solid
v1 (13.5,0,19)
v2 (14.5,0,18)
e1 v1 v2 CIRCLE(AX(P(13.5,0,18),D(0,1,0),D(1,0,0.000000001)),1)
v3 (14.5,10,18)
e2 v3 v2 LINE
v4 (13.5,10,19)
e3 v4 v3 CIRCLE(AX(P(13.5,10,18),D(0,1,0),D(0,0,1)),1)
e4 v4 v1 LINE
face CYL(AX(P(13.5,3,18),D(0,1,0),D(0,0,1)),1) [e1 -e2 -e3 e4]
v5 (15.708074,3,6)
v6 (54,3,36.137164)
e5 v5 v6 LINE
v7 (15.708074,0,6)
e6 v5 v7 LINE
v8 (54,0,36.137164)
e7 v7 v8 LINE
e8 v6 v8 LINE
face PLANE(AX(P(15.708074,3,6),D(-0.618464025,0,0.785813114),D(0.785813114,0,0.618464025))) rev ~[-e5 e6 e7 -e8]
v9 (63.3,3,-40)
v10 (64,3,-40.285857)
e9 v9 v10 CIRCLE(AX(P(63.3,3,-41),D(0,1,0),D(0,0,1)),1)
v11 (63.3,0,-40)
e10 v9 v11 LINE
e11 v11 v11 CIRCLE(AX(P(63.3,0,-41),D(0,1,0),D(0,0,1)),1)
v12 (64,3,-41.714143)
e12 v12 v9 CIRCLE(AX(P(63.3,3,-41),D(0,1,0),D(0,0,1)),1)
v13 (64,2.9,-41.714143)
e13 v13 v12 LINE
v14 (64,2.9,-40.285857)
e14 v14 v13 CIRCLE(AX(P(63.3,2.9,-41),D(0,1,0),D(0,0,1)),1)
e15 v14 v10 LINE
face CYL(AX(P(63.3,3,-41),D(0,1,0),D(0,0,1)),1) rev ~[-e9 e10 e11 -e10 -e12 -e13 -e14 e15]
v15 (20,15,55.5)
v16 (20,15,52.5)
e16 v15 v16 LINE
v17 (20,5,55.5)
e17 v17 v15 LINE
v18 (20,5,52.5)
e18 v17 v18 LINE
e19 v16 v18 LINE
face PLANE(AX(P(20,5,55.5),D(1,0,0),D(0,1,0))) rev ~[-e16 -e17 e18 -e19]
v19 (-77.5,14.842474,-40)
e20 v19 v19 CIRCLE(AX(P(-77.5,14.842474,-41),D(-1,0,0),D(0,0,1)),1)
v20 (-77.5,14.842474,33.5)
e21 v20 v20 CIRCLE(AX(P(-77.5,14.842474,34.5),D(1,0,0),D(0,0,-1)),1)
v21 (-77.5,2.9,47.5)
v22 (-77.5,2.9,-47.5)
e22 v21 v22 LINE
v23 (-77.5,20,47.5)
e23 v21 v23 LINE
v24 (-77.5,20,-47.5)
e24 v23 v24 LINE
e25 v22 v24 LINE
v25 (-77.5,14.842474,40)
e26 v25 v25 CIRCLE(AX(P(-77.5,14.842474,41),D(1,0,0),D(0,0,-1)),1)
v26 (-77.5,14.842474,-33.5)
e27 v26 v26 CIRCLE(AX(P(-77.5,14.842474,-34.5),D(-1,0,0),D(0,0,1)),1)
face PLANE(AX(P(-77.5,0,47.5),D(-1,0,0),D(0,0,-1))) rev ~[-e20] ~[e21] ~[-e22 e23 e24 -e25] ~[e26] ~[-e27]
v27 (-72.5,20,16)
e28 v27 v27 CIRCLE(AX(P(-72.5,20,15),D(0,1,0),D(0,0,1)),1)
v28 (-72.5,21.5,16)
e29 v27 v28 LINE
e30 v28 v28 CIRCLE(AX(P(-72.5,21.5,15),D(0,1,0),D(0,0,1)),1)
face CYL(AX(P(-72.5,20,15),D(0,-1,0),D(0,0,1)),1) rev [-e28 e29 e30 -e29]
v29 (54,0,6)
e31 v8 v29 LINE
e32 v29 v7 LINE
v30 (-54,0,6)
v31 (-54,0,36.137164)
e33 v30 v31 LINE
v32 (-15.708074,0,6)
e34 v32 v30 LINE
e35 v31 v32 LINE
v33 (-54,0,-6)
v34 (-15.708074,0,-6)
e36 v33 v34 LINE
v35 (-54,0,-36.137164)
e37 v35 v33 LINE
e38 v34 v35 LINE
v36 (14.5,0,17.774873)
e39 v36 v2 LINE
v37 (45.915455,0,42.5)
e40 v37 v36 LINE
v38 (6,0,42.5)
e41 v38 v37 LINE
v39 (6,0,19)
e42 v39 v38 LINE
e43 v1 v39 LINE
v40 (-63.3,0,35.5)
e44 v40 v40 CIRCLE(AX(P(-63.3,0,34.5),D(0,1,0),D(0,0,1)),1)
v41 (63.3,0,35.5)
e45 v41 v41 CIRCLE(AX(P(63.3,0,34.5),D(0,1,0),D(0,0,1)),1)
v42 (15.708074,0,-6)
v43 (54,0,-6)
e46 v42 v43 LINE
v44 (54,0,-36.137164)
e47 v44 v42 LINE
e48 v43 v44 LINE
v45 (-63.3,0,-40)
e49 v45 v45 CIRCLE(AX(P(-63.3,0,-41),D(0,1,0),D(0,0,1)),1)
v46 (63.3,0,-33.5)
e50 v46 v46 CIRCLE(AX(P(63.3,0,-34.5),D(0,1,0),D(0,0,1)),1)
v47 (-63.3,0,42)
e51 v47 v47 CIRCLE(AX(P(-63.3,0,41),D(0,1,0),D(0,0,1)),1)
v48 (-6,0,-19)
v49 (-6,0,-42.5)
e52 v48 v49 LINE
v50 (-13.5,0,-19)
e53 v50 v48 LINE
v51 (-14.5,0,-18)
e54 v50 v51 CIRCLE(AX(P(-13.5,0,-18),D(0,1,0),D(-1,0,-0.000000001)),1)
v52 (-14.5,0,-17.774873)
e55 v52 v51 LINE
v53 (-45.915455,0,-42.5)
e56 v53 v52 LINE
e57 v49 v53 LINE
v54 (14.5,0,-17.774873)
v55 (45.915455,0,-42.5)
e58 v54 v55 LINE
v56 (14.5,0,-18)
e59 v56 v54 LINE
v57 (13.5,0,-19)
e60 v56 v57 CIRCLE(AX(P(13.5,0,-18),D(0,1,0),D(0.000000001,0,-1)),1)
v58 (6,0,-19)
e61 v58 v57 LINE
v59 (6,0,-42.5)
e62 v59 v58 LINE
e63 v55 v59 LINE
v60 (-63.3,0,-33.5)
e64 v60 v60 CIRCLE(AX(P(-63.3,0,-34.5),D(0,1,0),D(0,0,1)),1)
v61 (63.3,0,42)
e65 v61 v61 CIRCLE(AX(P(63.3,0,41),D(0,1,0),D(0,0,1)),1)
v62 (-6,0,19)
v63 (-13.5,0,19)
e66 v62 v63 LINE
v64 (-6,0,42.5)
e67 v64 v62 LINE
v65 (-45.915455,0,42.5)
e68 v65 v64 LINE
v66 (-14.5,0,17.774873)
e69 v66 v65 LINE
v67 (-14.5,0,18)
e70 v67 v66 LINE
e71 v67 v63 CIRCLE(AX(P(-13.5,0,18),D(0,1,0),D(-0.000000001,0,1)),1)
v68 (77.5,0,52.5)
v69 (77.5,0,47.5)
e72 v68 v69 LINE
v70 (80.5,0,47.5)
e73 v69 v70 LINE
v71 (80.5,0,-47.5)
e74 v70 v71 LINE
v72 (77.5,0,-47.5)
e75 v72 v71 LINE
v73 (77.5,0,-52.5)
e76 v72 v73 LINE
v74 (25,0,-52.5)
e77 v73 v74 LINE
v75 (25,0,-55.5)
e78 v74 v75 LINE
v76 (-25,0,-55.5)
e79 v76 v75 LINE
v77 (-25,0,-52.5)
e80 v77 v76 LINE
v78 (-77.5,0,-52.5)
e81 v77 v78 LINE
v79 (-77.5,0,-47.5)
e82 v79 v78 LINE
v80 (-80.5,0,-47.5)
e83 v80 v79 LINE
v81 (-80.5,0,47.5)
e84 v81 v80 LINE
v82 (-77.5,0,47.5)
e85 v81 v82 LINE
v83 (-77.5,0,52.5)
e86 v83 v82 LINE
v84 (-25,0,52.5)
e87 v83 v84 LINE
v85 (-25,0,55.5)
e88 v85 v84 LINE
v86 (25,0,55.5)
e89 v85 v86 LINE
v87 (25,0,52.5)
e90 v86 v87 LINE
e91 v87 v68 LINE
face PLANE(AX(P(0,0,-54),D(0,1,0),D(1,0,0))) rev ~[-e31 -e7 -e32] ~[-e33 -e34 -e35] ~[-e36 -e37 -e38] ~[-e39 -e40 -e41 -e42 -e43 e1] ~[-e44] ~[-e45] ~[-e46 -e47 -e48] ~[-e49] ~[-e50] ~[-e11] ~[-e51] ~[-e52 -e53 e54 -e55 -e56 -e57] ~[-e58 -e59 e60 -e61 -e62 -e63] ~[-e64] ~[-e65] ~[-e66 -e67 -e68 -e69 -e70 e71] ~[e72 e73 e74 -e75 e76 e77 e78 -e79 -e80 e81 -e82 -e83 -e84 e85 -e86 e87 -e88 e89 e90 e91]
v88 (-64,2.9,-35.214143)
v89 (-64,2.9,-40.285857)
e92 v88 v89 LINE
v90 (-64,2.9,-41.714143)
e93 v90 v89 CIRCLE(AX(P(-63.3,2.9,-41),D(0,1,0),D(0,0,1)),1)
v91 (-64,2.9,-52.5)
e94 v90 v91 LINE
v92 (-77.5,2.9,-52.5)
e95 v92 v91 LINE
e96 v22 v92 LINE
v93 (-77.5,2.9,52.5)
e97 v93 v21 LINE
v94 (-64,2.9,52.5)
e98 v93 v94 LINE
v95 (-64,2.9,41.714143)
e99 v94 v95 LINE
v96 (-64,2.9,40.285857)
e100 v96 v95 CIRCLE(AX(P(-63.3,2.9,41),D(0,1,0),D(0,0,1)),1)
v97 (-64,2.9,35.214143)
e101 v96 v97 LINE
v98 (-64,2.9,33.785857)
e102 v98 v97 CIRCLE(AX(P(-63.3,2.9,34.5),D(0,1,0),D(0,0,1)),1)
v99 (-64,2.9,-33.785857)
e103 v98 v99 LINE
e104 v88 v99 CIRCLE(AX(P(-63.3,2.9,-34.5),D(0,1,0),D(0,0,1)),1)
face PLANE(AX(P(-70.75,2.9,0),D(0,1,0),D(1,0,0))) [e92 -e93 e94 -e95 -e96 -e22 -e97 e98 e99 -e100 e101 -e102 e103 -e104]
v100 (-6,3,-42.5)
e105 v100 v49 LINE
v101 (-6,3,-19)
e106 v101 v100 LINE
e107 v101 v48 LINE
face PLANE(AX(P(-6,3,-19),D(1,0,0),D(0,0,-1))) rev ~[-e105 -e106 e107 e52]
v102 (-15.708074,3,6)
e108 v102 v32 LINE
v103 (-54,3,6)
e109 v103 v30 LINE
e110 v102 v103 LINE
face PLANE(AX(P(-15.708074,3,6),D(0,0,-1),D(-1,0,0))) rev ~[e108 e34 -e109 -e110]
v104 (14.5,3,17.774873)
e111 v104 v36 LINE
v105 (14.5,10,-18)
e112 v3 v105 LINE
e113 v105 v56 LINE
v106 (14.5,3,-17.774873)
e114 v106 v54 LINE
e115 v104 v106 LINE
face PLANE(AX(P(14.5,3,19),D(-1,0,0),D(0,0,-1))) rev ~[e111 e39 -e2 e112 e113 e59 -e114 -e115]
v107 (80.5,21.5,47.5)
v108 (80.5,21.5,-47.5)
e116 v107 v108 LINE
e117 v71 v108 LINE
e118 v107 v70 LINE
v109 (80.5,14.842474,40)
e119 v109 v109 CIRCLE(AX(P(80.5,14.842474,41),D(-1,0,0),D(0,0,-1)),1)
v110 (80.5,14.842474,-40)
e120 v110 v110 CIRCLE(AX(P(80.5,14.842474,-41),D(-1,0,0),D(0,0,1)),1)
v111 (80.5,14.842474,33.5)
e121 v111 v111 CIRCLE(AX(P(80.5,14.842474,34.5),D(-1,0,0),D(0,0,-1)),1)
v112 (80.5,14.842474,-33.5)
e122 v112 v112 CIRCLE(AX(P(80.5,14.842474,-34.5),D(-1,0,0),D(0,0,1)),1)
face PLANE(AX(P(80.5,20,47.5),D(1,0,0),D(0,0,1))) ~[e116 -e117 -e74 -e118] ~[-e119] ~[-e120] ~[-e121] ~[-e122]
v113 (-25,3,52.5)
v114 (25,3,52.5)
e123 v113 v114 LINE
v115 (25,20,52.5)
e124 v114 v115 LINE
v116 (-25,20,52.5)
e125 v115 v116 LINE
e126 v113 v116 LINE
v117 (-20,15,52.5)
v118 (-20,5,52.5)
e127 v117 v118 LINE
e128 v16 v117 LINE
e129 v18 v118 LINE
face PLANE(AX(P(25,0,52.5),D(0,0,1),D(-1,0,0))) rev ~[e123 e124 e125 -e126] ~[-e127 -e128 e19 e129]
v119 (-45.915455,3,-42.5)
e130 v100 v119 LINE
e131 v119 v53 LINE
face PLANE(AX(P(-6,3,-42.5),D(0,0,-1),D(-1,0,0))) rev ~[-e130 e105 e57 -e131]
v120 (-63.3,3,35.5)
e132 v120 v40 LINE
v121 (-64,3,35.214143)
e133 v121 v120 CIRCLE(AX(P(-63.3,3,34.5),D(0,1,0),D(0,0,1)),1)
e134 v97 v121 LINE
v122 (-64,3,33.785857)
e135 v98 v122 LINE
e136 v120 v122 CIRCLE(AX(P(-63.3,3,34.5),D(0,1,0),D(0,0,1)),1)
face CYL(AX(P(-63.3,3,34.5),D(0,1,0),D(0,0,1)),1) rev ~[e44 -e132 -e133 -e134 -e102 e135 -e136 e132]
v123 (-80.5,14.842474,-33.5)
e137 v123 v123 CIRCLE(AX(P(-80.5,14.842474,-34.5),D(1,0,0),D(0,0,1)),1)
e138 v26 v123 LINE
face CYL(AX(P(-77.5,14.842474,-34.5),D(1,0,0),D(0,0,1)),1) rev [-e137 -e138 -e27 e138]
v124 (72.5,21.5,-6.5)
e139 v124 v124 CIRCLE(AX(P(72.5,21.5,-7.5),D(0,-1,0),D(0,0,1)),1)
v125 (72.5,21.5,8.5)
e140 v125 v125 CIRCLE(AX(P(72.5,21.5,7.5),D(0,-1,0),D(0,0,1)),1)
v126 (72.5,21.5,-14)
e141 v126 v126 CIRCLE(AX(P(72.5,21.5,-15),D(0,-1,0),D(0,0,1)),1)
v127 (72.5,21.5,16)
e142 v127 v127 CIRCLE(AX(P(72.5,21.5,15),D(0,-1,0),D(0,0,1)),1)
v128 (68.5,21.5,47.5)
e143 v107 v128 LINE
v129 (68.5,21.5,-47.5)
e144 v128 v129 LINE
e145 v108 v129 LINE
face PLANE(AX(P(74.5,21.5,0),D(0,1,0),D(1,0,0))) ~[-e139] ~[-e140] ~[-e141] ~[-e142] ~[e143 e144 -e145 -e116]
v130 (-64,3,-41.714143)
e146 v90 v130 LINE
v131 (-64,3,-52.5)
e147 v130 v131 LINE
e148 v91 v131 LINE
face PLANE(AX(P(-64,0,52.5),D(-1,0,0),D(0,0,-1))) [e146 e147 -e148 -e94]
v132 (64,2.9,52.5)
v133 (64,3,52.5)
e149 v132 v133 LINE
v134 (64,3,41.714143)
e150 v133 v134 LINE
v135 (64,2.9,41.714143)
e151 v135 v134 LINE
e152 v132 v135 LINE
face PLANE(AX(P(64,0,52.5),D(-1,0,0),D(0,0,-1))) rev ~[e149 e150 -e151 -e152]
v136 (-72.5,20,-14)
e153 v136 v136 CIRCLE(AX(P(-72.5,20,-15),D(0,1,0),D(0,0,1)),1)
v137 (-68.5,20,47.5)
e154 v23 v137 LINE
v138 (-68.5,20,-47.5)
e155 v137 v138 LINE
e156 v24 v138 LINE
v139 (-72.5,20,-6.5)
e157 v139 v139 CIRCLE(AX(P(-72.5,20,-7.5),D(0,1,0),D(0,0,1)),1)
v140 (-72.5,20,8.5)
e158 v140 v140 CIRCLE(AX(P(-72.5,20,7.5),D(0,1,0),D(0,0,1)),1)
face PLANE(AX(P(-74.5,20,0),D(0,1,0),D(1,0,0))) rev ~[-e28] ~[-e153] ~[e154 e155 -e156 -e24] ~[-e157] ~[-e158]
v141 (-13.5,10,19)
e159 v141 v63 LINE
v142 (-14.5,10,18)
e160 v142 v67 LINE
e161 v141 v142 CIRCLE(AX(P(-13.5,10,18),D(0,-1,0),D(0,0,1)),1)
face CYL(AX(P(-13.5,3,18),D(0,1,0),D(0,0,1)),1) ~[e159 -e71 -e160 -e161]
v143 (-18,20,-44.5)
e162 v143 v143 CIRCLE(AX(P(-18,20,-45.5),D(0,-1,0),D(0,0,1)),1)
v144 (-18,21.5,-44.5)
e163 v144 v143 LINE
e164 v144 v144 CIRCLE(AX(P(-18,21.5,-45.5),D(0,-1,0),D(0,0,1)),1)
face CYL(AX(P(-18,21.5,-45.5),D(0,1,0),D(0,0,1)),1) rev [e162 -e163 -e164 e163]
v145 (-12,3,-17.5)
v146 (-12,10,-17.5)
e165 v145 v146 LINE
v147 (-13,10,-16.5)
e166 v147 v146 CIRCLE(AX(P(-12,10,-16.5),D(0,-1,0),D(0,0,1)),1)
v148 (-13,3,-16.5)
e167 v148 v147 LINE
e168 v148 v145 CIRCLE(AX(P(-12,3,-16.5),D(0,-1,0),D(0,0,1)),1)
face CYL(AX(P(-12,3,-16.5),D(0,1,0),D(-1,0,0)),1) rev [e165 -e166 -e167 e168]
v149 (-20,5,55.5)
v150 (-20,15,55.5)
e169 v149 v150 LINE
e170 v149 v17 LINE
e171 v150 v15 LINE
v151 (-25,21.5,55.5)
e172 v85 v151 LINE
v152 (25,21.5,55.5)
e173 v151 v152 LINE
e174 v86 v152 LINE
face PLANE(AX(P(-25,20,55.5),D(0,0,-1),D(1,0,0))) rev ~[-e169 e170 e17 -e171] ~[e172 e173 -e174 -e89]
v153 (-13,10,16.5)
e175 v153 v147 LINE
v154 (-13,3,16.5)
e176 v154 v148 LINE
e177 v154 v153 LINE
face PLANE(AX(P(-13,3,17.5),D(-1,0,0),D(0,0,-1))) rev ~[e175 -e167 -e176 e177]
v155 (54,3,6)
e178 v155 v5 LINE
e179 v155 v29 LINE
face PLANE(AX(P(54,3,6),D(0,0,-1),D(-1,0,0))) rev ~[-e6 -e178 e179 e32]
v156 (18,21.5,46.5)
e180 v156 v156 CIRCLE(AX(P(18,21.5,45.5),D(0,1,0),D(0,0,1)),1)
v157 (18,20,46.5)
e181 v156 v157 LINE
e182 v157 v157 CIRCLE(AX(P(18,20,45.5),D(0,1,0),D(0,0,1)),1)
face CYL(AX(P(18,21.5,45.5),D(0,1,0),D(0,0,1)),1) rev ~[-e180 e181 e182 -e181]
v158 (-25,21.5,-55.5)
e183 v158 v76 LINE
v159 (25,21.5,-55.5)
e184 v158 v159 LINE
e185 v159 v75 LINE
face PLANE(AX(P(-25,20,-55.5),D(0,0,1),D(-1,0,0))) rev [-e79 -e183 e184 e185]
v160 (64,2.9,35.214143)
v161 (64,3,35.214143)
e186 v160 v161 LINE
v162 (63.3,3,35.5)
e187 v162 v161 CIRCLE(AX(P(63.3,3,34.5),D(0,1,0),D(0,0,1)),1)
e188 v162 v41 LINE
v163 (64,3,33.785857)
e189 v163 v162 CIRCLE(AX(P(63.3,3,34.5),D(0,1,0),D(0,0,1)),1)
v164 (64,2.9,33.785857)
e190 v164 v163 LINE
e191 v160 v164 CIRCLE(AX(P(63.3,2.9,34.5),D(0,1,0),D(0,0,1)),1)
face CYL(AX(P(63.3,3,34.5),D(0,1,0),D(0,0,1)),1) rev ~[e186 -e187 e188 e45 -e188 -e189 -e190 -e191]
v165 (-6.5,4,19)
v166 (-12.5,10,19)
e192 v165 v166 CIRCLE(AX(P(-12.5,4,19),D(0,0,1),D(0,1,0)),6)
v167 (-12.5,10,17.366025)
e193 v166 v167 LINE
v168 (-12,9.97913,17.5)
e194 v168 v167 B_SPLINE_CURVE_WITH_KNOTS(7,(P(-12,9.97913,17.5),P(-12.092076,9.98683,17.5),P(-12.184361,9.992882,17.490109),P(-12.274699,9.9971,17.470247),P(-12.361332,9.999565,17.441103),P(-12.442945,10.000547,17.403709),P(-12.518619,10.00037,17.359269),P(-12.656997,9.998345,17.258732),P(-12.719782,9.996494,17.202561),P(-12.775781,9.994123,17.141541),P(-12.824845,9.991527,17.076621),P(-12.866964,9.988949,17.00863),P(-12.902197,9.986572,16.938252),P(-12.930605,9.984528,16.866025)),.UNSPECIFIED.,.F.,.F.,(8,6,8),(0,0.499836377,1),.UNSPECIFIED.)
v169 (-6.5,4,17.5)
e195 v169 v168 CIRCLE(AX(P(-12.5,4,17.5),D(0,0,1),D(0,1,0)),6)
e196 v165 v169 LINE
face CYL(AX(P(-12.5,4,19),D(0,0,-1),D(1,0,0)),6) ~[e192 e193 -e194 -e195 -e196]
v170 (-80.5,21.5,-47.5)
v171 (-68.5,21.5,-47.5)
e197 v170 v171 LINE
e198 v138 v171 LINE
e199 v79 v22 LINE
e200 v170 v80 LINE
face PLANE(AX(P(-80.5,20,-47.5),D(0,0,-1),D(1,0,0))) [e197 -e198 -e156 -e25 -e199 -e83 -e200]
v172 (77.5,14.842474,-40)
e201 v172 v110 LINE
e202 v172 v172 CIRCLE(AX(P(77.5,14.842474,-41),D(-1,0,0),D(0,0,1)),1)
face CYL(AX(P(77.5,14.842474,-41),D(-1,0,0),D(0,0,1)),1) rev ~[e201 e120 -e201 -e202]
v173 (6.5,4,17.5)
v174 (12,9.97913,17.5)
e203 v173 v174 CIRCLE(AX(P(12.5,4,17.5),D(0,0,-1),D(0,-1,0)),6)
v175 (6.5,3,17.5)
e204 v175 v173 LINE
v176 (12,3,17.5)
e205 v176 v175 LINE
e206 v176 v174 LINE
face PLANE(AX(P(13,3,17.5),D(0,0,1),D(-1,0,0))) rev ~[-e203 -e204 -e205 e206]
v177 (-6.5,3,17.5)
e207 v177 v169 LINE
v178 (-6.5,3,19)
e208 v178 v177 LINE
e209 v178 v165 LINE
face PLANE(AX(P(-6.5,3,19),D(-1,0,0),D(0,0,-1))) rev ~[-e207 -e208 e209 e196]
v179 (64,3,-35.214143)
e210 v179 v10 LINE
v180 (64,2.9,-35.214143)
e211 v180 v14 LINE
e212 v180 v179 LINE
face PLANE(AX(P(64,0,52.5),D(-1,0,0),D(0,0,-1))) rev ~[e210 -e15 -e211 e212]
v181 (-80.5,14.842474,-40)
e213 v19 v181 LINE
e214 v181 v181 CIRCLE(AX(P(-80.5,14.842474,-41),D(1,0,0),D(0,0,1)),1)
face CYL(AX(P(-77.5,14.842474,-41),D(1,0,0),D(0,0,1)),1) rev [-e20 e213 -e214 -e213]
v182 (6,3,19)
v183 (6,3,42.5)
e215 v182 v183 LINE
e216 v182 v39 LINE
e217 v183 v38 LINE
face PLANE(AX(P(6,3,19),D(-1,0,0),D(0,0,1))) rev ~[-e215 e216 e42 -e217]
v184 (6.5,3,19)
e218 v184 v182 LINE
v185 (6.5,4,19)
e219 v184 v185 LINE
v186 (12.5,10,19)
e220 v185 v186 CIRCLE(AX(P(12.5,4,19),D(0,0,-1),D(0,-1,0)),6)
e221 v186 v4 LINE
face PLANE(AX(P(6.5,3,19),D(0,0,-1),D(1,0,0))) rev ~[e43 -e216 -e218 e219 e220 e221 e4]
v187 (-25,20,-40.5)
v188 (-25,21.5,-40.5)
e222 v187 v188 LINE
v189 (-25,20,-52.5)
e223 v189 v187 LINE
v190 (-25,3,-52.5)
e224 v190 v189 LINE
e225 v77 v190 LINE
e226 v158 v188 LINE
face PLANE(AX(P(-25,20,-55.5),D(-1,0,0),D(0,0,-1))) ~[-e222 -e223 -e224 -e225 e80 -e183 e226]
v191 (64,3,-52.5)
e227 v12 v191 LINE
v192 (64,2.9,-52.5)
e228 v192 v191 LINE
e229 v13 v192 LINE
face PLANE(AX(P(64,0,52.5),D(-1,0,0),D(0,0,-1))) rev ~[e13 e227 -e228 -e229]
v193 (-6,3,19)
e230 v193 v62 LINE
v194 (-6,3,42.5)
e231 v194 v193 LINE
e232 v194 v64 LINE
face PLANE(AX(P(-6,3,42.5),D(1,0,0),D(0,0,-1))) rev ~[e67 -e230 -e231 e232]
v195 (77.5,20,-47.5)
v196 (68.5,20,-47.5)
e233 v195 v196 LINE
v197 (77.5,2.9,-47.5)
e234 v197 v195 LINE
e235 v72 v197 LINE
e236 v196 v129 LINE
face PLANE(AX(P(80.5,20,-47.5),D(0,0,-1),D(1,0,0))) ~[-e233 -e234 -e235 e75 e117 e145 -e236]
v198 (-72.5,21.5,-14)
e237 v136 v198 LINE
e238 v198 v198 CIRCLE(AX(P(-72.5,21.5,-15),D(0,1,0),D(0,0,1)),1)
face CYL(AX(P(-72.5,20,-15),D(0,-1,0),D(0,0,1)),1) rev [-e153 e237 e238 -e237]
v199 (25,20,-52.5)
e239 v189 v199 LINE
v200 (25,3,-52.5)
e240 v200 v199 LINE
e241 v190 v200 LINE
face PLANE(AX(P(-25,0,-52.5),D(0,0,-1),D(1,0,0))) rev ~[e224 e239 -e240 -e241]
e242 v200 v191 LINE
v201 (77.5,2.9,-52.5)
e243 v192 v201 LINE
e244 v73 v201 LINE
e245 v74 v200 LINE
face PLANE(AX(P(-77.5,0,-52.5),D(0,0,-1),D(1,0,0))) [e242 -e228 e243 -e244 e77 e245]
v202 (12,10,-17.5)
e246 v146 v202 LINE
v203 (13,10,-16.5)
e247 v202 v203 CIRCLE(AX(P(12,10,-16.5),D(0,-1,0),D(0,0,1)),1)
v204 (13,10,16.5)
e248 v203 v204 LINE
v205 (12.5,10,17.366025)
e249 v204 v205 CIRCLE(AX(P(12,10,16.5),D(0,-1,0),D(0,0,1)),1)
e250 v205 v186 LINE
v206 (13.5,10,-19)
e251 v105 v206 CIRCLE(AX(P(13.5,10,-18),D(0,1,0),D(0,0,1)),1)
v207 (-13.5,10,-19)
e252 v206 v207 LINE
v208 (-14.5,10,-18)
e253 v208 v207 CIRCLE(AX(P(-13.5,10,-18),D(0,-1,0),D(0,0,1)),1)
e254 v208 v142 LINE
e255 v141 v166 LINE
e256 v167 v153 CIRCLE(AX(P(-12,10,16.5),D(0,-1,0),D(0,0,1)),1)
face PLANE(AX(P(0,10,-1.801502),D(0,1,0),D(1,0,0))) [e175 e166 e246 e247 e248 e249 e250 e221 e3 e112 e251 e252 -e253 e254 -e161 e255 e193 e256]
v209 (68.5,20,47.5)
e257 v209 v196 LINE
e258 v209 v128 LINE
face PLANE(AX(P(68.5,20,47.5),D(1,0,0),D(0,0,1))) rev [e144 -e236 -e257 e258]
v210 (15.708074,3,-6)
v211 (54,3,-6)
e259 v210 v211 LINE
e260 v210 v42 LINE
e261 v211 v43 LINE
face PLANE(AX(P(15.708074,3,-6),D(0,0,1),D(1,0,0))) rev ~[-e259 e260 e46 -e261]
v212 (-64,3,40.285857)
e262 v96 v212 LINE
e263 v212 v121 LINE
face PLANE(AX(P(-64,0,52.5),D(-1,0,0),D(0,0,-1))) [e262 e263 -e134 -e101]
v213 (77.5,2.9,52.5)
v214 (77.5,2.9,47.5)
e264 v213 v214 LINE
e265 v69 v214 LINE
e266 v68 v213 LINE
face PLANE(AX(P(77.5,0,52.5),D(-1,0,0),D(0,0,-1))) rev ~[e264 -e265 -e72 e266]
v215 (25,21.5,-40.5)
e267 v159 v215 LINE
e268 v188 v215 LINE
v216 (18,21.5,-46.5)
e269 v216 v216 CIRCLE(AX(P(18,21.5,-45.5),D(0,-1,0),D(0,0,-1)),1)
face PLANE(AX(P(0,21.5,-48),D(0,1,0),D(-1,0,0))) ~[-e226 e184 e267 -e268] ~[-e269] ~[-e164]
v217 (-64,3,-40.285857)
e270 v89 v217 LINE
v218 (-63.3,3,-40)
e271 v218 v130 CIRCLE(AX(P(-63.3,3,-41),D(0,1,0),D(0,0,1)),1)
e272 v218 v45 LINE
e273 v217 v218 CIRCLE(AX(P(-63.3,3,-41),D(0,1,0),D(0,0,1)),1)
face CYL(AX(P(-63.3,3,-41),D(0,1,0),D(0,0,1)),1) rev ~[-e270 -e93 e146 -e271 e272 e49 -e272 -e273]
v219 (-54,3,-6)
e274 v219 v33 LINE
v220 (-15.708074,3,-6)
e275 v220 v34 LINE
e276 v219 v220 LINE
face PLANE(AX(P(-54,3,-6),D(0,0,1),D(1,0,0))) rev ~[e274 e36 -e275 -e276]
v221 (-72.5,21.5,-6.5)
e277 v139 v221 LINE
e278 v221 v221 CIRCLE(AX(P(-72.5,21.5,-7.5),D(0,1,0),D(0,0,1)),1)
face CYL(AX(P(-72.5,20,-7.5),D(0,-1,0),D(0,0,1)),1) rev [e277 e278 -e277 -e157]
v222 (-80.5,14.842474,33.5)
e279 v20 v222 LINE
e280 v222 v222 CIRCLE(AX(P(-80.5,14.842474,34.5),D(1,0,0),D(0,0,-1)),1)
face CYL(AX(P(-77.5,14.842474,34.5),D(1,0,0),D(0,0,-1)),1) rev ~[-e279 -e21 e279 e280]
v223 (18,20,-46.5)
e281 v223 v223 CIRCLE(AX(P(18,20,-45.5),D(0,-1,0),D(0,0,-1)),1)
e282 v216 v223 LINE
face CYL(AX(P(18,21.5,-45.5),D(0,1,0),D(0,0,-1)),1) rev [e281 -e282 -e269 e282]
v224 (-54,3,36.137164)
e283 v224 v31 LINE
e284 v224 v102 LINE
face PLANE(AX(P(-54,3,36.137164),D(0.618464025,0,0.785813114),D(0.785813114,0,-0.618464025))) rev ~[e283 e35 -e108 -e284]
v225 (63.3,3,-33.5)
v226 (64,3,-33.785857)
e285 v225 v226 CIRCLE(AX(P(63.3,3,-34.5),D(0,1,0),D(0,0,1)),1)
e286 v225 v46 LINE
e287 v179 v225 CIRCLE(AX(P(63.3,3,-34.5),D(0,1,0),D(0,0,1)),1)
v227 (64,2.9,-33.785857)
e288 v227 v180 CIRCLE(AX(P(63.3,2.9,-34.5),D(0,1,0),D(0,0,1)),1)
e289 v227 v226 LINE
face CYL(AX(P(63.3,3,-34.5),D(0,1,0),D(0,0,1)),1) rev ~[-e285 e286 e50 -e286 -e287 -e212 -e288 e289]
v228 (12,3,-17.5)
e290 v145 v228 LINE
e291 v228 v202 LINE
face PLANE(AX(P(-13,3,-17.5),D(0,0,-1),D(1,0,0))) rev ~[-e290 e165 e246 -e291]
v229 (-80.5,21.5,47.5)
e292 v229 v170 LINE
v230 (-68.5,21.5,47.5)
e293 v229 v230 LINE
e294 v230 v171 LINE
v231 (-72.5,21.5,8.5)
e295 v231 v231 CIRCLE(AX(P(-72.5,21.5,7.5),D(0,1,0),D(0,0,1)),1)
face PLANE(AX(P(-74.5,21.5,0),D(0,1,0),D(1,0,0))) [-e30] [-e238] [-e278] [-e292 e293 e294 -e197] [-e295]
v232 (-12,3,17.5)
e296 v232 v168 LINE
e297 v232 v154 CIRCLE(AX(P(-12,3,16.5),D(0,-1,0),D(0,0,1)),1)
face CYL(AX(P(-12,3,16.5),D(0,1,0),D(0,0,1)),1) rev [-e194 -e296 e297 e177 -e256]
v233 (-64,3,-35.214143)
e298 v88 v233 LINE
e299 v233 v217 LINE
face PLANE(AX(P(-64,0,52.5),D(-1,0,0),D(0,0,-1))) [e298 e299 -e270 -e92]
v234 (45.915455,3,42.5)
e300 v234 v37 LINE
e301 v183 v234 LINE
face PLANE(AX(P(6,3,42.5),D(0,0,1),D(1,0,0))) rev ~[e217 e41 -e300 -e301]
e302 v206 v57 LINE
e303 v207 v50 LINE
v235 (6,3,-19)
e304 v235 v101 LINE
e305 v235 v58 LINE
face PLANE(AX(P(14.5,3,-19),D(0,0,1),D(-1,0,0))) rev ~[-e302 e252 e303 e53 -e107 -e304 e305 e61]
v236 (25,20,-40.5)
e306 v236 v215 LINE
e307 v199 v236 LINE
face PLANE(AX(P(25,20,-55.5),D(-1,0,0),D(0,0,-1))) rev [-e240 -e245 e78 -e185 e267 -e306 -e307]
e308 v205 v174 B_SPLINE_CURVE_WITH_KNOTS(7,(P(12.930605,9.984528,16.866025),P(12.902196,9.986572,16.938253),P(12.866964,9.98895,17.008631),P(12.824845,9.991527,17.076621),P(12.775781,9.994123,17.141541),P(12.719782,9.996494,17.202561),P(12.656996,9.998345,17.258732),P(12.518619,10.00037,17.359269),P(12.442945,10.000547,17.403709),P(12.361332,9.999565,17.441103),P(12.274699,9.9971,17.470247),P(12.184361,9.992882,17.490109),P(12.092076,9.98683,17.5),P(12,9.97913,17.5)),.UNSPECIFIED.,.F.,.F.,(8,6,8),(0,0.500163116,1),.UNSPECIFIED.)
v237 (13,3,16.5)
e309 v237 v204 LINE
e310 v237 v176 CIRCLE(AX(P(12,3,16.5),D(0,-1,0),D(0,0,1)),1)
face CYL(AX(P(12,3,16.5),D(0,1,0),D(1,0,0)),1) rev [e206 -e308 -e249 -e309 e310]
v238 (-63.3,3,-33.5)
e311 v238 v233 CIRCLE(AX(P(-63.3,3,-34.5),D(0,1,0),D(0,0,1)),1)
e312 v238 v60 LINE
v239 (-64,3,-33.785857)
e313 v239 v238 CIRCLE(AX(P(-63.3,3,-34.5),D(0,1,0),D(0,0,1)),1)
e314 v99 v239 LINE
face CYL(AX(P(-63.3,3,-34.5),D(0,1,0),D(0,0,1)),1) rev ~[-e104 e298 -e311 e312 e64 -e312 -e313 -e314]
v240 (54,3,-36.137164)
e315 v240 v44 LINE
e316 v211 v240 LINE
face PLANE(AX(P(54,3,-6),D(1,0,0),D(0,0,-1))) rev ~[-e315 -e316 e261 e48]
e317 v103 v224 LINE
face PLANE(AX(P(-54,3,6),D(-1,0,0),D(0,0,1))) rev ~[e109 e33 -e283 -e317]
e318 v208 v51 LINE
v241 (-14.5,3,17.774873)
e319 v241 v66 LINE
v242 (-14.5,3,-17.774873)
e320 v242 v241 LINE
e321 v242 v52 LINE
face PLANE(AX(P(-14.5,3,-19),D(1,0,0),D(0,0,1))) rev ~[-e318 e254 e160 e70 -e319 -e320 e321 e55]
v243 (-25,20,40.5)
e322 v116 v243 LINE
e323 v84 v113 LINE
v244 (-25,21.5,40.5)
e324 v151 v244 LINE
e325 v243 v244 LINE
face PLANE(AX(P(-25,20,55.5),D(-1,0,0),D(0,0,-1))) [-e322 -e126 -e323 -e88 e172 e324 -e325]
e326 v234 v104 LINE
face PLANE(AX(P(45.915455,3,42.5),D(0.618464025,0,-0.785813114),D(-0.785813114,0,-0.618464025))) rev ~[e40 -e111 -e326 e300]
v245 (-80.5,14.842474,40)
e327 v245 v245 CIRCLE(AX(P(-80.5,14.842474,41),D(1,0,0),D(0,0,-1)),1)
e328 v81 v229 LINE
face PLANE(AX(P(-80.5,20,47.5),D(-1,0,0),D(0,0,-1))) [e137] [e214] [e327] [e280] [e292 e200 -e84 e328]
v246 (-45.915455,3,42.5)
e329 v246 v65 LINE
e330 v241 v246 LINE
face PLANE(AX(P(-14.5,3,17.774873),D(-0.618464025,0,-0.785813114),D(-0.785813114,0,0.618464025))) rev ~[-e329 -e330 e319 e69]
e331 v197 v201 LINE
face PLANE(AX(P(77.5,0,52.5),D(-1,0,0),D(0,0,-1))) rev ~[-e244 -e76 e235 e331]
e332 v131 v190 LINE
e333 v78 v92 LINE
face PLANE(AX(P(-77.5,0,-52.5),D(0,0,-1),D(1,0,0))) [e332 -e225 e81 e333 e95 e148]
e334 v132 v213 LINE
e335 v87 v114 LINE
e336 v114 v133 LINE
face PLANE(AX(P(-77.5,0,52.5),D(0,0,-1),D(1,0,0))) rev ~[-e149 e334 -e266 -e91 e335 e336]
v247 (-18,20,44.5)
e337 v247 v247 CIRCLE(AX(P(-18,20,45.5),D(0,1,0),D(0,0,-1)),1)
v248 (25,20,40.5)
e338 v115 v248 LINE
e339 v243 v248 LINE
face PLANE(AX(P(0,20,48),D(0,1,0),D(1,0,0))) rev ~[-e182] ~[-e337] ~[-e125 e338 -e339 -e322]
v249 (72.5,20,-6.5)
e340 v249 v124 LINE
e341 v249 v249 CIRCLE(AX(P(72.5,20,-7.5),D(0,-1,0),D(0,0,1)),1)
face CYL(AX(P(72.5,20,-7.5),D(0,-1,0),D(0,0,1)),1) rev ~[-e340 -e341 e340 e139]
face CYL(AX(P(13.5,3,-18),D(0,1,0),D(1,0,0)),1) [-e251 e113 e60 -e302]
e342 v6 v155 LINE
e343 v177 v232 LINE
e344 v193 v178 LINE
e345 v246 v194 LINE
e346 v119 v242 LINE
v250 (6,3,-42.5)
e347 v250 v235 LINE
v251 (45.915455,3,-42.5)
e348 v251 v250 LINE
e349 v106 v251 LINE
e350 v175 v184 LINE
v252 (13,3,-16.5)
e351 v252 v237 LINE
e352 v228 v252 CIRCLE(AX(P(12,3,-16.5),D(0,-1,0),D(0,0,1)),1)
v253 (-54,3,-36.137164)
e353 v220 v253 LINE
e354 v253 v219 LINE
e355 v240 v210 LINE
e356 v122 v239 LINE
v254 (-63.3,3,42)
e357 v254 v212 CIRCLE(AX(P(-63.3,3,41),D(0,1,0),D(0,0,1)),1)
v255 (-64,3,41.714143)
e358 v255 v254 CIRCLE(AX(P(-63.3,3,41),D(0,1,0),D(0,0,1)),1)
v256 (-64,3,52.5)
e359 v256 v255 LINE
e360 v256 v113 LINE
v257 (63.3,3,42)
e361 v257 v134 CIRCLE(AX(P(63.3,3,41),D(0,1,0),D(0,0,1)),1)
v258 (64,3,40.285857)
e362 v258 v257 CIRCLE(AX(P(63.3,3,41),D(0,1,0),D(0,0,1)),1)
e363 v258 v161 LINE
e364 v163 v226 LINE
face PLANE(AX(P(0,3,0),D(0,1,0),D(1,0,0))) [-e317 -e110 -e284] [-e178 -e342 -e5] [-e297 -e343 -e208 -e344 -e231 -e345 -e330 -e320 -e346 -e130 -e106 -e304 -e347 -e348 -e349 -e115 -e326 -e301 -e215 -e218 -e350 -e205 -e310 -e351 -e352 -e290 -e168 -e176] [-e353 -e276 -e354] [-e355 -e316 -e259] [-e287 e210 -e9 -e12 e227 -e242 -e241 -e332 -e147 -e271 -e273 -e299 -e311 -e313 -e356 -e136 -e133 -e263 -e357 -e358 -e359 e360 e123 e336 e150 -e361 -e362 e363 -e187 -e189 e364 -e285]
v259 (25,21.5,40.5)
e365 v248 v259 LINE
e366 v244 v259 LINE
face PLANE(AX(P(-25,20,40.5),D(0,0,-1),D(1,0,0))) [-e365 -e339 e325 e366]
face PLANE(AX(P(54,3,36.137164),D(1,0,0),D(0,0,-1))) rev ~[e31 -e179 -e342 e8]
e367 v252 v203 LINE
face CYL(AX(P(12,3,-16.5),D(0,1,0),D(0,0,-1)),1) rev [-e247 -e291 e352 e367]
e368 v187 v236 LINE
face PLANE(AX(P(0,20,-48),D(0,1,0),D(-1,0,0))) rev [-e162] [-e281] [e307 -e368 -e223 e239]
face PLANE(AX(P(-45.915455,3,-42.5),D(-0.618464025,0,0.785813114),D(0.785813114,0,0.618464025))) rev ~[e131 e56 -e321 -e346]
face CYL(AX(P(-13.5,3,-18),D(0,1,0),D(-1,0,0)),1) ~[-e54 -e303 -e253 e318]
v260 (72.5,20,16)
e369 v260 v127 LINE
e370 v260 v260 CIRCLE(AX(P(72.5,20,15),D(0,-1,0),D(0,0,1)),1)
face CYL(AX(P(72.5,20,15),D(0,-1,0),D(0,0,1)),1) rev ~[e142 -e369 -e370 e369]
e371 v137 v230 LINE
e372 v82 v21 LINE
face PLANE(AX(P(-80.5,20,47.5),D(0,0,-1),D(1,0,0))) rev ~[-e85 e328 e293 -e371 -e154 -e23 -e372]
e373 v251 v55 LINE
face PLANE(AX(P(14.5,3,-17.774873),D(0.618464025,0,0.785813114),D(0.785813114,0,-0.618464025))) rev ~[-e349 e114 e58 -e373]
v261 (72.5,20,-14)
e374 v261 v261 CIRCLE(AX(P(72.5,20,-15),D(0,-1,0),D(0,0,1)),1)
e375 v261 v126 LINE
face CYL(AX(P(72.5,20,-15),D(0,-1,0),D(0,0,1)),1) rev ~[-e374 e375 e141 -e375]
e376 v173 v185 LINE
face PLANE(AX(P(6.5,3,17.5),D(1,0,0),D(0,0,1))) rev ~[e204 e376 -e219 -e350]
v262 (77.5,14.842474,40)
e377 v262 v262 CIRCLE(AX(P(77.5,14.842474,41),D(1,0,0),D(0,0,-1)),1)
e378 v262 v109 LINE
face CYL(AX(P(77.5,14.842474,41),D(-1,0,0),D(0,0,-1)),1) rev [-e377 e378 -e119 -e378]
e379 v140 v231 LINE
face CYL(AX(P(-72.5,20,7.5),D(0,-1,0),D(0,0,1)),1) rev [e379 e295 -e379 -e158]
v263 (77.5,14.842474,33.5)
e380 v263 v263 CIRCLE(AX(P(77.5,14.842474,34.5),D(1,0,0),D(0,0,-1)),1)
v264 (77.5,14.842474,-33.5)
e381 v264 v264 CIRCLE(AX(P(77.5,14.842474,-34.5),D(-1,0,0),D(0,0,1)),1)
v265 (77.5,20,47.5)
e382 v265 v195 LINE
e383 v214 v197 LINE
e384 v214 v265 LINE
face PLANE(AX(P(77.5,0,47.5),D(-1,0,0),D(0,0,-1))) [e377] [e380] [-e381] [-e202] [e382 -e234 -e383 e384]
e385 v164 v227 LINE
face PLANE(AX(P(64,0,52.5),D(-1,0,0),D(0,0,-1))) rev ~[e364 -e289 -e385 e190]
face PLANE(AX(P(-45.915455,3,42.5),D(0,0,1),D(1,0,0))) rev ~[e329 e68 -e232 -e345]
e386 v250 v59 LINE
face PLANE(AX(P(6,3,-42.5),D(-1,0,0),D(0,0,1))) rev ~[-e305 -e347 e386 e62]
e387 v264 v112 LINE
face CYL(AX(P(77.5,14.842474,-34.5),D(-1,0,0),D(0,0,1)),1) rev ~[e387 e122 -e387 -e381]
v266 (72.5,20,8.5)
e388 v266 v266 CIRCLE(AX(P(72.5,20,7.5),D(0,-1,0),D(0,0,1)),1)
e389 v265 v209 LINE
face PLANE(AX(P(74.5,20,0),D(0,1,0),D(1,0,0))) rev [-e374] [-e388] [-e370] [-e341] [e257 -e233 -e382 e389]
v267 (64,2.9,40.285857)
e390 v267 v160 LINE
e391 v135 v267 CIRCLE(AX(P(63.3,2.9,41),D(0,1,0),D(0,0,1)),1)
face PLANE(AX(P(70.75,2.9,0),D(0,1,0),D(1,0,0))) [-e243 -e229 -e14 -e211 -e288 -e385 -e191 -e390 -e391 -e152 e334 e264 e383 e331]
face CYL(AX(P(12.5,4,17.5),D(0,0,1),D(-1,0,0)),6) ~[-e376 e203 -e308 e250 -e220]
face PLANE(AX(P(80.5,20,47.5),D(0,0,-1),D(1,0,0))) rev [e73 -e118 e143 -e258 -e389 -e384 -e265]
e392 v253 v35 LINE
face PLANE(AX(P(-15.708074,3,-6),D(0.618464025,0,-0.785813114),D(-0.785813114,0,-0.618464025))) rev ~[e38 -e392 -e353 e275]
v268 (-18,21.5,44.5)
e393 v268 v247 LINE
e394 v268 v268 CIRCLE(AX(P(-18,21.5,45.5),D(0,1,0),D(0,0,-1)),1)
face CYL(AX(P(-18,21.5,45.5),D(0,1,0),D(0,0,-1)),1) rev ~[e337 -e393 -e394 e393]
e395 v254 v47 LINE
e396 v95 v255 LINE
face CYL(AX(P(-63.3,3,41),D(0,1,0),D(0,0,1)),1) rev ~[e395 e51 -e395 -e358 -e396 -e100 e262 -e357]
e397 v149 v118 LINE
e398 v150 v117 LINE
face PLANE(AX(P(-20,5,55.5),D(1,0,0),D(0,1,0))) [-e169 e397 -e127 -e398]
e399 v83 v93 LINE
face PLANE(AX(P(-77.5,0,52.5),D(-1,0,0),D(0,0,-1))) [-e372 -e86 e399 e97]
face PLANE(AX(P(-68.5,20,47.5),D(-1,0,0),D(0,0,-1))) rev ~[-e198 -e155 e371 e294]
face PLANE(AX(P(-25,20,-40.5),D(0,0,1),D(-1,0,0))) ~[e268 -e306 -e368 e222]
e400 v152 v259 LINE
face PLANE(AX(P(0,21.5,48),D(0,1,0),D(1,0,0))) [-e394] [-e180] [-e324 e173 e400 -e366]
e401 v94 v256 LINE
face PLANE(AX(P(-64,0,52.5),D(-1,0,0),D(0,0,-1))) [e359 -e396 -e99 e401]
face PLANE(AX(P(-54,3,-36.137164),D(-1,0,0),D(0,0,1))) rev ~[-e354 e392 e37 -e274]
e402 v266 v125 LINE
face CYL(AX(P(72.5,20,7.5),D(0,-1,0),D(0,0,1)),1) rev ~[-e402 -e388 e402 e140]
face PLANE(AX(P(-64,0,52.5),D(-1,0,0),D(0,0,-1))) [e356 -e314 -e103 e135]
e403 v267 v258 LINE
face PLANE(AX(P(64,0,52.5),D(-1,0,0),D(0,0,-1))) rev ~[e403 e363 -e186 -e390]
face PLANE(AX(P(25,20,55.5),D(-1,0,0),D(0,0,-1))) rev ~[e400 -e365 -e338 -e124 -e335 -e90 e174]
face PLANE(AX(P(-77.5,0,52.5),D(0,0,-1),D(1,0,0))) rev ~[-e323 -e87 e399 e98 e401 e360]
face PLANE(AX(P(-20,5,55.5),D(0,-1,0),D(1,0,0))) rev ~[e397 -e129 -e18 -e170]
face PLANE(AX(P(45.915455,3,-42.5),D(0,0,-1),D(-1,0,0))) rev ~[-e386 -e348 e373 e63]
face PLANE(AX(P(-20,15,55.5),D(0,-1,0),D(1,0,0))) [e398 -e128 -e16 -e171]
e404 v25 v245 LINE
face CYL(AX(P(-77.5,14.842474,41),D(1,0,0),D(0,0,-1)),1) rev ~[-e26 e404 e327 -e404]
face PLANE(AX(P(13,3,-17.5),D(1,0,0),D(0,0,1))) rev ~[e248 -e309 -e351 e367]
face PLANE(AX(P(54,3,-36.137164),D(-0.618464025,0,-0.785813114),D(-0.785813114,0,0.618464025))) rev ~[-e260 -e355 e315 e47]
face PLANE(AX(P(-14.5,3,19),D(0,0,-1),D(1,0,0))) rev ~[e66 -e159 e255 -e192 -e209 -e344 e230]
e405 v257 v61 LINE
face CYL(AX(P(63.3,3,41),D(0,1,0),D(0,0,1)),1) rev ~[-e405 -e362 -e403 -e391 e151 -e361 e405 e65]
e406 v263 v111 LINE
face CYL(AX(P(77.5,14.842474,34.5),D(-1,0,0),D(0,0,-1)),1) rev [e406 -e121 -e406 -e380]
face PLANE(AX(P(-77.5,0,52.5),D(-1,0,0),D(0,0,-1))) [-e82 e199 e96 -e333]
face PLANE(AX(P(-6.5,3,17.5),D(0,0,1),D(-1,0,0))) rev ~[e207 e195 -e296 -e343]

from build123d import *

# Parameters (mm, degrees)
SKETCH1_W                                  = 128
SKETCH1_H                                  = 105
BOSS_EXTRUDE1_DEPTH                        = 3
SKETCH2_W                                  = 13.5
SKETCH2_H                                  = 105
BOSS_EXTRUDE2_DEPTH                        = 2.9
BOSS_EXTRUDE9_DEPTH                        = 7
FILLET1_R                                  = 6
FILLET2_R                                  = 1
CUT_EXTRUDE1_DEPTH                         = 7
SKETCH3_W                                  = 3
SKETCH3_H                                  = 95
BOSS_EXTRUDE10_DEPTH                       = 20
SKETCH11_R                                 = 1
CUT_EXTRUDE2_DEPTH                         = 20
SKETCH13_R                                 = 1
CUT_EXTRUDE3_DEPTH                         = 20
MIRROR1_AT_THE_SECOND_PLANE_COPY_1_SKETC_R = 1
MIRROR1_AT_THE_SECOND_PLANE_COPY_1_DEPTH   = 20
SKETCH4_W                                  = 50
SKETCH4_H                                  = 3
SKETCH4_W_2                                = 25
BOSS_EXTRUDE11_DEPTH                       = 20
CUT_EXTRUDE4_REACH                         = 140.569
SKETCH14_W                                 = 40
SKETCH14_H                                 = 10
SKETCH15_W                                 = 50
SKETCH15_H                                 = 15
BOSS_EXTRUDE12_DEPTH                       = 1.5
SKETCH17_R                                 = 1
CUT_EXTRUDE5_DEPTH                         = 1.5
SKETCH18_W                                 = 12
SKETCH18_H                                 = 95
SKETCH18_R                                 = 1
BOSS_EXTRUDE13_DEPTH                       = 1.5


with BuildPart() as part:
    # Sketch1 → Boss-Extrude1 (new body)
    with BuildSketch(Plane(origin=(0, 0, 0), x_dir=(1, 0, 0), z_dir=(0, 1, 0))):
        Rectangle(SKETCH1_W, SKETCH1_H)
    extrude(amount=BOSS_EXTRUDE1_DEPTH)

    # Sketch2 → Boss-Extrude2 (add)
    with BuildSketch(Plane(origin=(0, 0, 0), x_dir=(1, 0, 0), z_dir=(0, 1, 0))):
        with Locations((-70.75, 0)):
            Rectangle(SKETCH2_W, SKETCH2_H)
        with Locations((70.75, 0)):
            Rectangle(SKETCH2_W, SKETCH2_H)
    extrude(amount=BOSS_EXTRUDE2_DEPTH)

    # Sketch5 → Boss-Extrude9 (add)
    with BuildSketch(Plane(origin=(0, 3, 0), x_dir=(1, 0, 0), z_dir=(0, 1, 0))):
        Polygon((-6.5, -19), (-6.5, -17.5), (-13, -17.5), (-13, 17.5), (13, 17.5), (13, -17.5), (6.5, -17.5), (6.5, -19), (14.5, -19), (14.5, 19), (-14.5, 19), (-14.5, -19), align=None)
    extrude(amount=BOSS_EXTRUDE9_DEPTH)

    # Fillet1
    fillet1_edges = [part.edges().sort_by_distance(p)[0] for p in [
        (-6.5, 10, 18.25),
        (6.5, 10, 18.25),
    ]]
    fillet(fillet1_edges, radius=FILLET1_R)

    # Fillet2
    fillet2_edges = [part.edges().sort_by_distance(p)[0] for p in [
        (-13, 6.5, 17.5),
        (13, 6.5, 17.5),
        (-13, 6.5, -17.5),
        (14.5, 6.5, -19),
        (14.5, 6.5, 19),
        (13, 6.5, -17.5),
        (-14.5, 6.5, -19),
        (-14.5, 6.5, 19),
    ]]
    fillet(fillet2_edges, radius=FILLET2_R)

    # Sketch10 → Cut-Extrude1 (cut)
    with BuildSketch(Plane(origin=(0, 3, 0), x_dir=(1, 0, 0), z_dir=(0, 1, 0))):
        Polygon((-54, 36.137163962), (-54, 6), (-15.708074024, 6), align=None)
        with BuildLine():
            Line((-6, 42.5), (-45.915455387, 42.5))
            Line((-45.915455387, 42.5), (-14.5, 17.774873075))
            Line((-14.5, 17.774873075), (-14.5, 18))
            ThreePointArc((-14.5, 18), (-14.207106781, 18.707106781), (-13.5, 19))
            Line((-13.5, 19), (-6, 19))
            Line((-6, 19), (-6, 42.5))
        make_face()
        with BuildLine():
            Line((45.915455387, 42.5), (6, 42.5))
            Line((6, 42.5), (6, 19))
            Line((6, 19), (13.5, 19))
            ThreePointArc((13.5, 19), (14.207106781, 18.707106781), (14.5, 18))
            Line((14.5, 18), (14.5, 17.774873075))
            Line((14.5, 17.774873075), (45.915455387, 42.5))
        make_face()
        Polygon((15.708074024, 6), (54, 6), (54, 36.137163962), align=None)
        Polygon((15.708074024, -6), (54, -36.137163962), (54, -6), align=None)
        with BuildLine():
            Line((6, -19), (6, -42.5))
            Line((6, -42.5), (45.915455387, -42.5))
            Line((45.915455387, -42.5), (14.5, -17.774873075))
            Line((14.5, -17.774873075), (14.5, -18))
            ThreePointArc((14.5, -18), (14.207106781, -18.707106781), (13.5, -19))
            Line((13.5, -19), (6.5, -19))
            Line((6.5, -19), (6, -19))
        make_face()
        with BuildLine():
            Line((-14.5, -17.774873075), (-45.915455387, -42.5))
            Line((-45.915455387, -42.5), (-6, -42.5))
            Line((-6, -42.5), (-6, -19))
            Line((-6, -19), (-6.5, -19))
            Line((-6.5, -19), (-13.5, -19))
            ThreePointArc((-13.5, -19), (-14.207106781, -18.707106781), (-14.5, -18))
            Line((-14.5, -18), (-14.5, -17.774873075))
        make_face()
        Polygon((-54, -6), (-54, -36.137163962), (-15.708074024, -6), align=None)
    extrude(amount=-CUT_EXTRUDE1_DEPTH, mode=Mode.SUBTRACT)

    # Sketch3 → Boss-Extrude10 (add)
    with BuildSketch(Plane(origin=(0, 0, 0), x_dir=(1, 0, 0), z_dir=(0, 1, 0))):
        with Locations((-79, 0)):
            Rectangle(SKETCH3_W, SKETCH3_H)
        with Locations((79, 0)):
            Rectangle(SKETCH3_W, SKETCH3_H)
    extrude(amount=BOSS_EXTRUDE10_DEPTH)

    # Sketch11 → Cut-Extrude2 (cut)
    with BuildSketch(Plane(origin=(0, 3, 0), x_dir=(1, 0, 0), z_dir=(0, 1, 0))):
        with Locations(Location((-63.3, -41, 0), (0, 0, 270))):
            Circle(SKETCH11_R)
        with Locations(Location((-63.3, -34.5, 0), (0, 0, 270))):
            Circle(SKETCH11_R)
        with Locations(Location((-63.3, 34.5, 0), (0, 0, 270))):
            Circle(SKETCH11_R)
        with Locations(Location((-63.3, 41, 0), (0, 0, 270))):
            Circle(SKETCH11_R)
        with Locations(Location((63.3, 41, 0), (0, 0, 270))):
            Circle(SKETCH11_R)
        with Locations(Location((63.3, 34.5, 0), (0, 0, 270))):
            Circle(SKETCH11_R)
        with Locations(Location((63.3, -34.5, 0), (0, 0, 270))):
            Circle(SKETCH11_R)
        with Locations(Location((63.3, -41, 0), (0, 0, 270))):
            Circle(SKETCH11_R)
    extrude(amount=-CUT_EXTRUDE2_DEPTH, mode=Mode.SUBTRACT)

    # Sketch13 → Cut-Extrude3 (cut)
    with BuildSketch(Plane(origin=(-77.5, 0, 0), x_dir=(0, 0, -1), z_dir=(1, 0, 0))):
        with Locations((-41, 14.842473729)):
            Circle(SKETCH13_R)
        with Locations((-34.5, 14.842473729)):
            Circle(SKETCH13_R)
    cut_extrude3 = extrude(amount=-CUT_EXTRUDE3_DEPTH, mode=Mode.SUBTRACT)

    # Mirror1: Cut-Extrude3 across plane
    add(cut_extrude3.mirror(Plane.XY), mode=Mode.SUBTRACT)

    # Mirror1 at the second plane: Cut-Extrude3 across plane
    add(cut_extrude3.mirror(Plane(origin=(0, 0, 0), x_dir=(0, 0, 1), z_dir=(1, 0, 0))), mode=Mode.SUBTRACT)

    # Mirror1 at the second plane copy 1 sketc → Mirror1 at the second plane copy 1 (cut)
    with BuildSketch(Plane.ZY.offset(-77.5)):
        with Locations((-41, 14.842473729)):
            Circle(MIRROR1_AT_THE_SECOND_PLANE_COPY_1_SKETC_R)
        with Locations((-34.5, 14.842473729)):
            Circle(MIRROR1_AT_THE_SECOND_PLANE_COPY_1_SKETC_R)
    extrude(amount=-MIRROR1_AT_THE_SECOND_PLANE_COPY_1_DEPTH, mode=Mode.SUBTRACT)

    # Sketch4 → Boss-Extrude11 (add)
    with BuildSketch(Plane(origin=(0, 0, 0), x_dir=(1, 0, 0), z_dir=(0, 1, 0))):
        with Locations((0, 54)):
            Rectangle(SKETCH4_W, SKETCH4_H)
        with Locations((-12.5, -54)):
            Rectangle(SKETCH4_W_2, SKETCH4_H)
        with Locations((12.5, -54)):
            Rectangle(SKETCH4_W_2, SKETCH4_H)
    extrude(amount=BOSS_EXTRUDE11_DEPTH)

    # Sketch14 → Cut-Extrude4 (cut, up to next)
    with BuildSketch(Plane.XY.offset(55.5), mode=Mode.PRIVATE) as cut_extrude4_sk1:
        with Locations((0, 10)):
            Rectangle(SKETCH14_W, SKETCH14_H)
    cut_extrude4_tool1 = extrude(cut_extrude4_sk1.sketch, amount=-CUT_EXTRUDE4_REACH, mode=Mode.PRIVATE) & part.part
    add(cut_extrude4_tool1.solids().sort_by_distance((0, 10, 55.5))[0], mode=Mode.SUBTRACT)

    # Sketch15 → Boss-Extrude12 (add)
    with BuildSketch(Plane(origin=(0, 20, 0), x_dir=(1, 0, 0), z_dir=(0, 1, 0))):
        with Locations((0, -48)):
            Rectangle(SKETCH15_W, SKETCH15_H)
    boss_extrude12 = extrude(amount=BOSS_EXTRUDE12_DEPTH)

    # Sketch17 → Cut-Extrude5 (cut)
    with BuildSketch(Plane(origin=(0, 21.5, 0), x_dir=(1, 0, 0), z_dir=(0, 1, 0))):
        with Locations(Location((18, -45.5, 0), (0, 0, 270))):
            Circle(SKETCH17_R)
        with Locations(Location((-18, -45.5, 0), (0, 0, 90))):
            Circle(SKETCH17_R)
    cut_extrude5 = extrude(amount=-CUT_EXTRUDE5_DEPTH, mode=Mode.SUBTRACT)

    # Mirror2: Boss-Extrude12, Cut-Extrude5 across plane
    add(boss_extrude12.mirror(Plane.XY))
    add(cut_extrude5.mirror(Plane.XY), mode=Mode.SUBTRACT)

    # Sketch18 → Boss-Extrude13 (add)
    with BuildSketch(Plane(origin=(0, 20, 0), x_dir=(1, 0, 0), z_dir=(0, 1, 0))):
        with Locations((-74.5, 0)):
            Rectangle(SKETCH18_W, SKETCH18_H)
        with Locations(Location((-72.5, -15, 0), (0, 0, 270))):
            Circle(SKETCH18_R, mode=Mode.SUBTRACT)
        with Locations(Location((-72.5, -7.5, 0), (0, 0, 270))):
            Circle(SKETCH18_R, mode=Mode.SUBTRACT)
        with Locations(Location((-72.5, 7.5, 0), (0, 0, 270))):
            Circle(SKETCH18_R, mode=Mode.SUBTRACT)
        with Locations(Location((-72.5, 15, 0), (0, 0, 270))):
            Circle(SKETCH18_R, mode=Mode.SUBTRACT)
    boss_extrude13 = extrude(amount=BOSS_EXTRUDE13_DEPTH)

    # Mirror3: Boss-Extrude13 across plane
    add(boss_extrude13.mirror(Plane(origin=(0, 0, 0), x_dir=(0, 0, 1), z_dir=(1, 0, 0))))


solid = part.part
